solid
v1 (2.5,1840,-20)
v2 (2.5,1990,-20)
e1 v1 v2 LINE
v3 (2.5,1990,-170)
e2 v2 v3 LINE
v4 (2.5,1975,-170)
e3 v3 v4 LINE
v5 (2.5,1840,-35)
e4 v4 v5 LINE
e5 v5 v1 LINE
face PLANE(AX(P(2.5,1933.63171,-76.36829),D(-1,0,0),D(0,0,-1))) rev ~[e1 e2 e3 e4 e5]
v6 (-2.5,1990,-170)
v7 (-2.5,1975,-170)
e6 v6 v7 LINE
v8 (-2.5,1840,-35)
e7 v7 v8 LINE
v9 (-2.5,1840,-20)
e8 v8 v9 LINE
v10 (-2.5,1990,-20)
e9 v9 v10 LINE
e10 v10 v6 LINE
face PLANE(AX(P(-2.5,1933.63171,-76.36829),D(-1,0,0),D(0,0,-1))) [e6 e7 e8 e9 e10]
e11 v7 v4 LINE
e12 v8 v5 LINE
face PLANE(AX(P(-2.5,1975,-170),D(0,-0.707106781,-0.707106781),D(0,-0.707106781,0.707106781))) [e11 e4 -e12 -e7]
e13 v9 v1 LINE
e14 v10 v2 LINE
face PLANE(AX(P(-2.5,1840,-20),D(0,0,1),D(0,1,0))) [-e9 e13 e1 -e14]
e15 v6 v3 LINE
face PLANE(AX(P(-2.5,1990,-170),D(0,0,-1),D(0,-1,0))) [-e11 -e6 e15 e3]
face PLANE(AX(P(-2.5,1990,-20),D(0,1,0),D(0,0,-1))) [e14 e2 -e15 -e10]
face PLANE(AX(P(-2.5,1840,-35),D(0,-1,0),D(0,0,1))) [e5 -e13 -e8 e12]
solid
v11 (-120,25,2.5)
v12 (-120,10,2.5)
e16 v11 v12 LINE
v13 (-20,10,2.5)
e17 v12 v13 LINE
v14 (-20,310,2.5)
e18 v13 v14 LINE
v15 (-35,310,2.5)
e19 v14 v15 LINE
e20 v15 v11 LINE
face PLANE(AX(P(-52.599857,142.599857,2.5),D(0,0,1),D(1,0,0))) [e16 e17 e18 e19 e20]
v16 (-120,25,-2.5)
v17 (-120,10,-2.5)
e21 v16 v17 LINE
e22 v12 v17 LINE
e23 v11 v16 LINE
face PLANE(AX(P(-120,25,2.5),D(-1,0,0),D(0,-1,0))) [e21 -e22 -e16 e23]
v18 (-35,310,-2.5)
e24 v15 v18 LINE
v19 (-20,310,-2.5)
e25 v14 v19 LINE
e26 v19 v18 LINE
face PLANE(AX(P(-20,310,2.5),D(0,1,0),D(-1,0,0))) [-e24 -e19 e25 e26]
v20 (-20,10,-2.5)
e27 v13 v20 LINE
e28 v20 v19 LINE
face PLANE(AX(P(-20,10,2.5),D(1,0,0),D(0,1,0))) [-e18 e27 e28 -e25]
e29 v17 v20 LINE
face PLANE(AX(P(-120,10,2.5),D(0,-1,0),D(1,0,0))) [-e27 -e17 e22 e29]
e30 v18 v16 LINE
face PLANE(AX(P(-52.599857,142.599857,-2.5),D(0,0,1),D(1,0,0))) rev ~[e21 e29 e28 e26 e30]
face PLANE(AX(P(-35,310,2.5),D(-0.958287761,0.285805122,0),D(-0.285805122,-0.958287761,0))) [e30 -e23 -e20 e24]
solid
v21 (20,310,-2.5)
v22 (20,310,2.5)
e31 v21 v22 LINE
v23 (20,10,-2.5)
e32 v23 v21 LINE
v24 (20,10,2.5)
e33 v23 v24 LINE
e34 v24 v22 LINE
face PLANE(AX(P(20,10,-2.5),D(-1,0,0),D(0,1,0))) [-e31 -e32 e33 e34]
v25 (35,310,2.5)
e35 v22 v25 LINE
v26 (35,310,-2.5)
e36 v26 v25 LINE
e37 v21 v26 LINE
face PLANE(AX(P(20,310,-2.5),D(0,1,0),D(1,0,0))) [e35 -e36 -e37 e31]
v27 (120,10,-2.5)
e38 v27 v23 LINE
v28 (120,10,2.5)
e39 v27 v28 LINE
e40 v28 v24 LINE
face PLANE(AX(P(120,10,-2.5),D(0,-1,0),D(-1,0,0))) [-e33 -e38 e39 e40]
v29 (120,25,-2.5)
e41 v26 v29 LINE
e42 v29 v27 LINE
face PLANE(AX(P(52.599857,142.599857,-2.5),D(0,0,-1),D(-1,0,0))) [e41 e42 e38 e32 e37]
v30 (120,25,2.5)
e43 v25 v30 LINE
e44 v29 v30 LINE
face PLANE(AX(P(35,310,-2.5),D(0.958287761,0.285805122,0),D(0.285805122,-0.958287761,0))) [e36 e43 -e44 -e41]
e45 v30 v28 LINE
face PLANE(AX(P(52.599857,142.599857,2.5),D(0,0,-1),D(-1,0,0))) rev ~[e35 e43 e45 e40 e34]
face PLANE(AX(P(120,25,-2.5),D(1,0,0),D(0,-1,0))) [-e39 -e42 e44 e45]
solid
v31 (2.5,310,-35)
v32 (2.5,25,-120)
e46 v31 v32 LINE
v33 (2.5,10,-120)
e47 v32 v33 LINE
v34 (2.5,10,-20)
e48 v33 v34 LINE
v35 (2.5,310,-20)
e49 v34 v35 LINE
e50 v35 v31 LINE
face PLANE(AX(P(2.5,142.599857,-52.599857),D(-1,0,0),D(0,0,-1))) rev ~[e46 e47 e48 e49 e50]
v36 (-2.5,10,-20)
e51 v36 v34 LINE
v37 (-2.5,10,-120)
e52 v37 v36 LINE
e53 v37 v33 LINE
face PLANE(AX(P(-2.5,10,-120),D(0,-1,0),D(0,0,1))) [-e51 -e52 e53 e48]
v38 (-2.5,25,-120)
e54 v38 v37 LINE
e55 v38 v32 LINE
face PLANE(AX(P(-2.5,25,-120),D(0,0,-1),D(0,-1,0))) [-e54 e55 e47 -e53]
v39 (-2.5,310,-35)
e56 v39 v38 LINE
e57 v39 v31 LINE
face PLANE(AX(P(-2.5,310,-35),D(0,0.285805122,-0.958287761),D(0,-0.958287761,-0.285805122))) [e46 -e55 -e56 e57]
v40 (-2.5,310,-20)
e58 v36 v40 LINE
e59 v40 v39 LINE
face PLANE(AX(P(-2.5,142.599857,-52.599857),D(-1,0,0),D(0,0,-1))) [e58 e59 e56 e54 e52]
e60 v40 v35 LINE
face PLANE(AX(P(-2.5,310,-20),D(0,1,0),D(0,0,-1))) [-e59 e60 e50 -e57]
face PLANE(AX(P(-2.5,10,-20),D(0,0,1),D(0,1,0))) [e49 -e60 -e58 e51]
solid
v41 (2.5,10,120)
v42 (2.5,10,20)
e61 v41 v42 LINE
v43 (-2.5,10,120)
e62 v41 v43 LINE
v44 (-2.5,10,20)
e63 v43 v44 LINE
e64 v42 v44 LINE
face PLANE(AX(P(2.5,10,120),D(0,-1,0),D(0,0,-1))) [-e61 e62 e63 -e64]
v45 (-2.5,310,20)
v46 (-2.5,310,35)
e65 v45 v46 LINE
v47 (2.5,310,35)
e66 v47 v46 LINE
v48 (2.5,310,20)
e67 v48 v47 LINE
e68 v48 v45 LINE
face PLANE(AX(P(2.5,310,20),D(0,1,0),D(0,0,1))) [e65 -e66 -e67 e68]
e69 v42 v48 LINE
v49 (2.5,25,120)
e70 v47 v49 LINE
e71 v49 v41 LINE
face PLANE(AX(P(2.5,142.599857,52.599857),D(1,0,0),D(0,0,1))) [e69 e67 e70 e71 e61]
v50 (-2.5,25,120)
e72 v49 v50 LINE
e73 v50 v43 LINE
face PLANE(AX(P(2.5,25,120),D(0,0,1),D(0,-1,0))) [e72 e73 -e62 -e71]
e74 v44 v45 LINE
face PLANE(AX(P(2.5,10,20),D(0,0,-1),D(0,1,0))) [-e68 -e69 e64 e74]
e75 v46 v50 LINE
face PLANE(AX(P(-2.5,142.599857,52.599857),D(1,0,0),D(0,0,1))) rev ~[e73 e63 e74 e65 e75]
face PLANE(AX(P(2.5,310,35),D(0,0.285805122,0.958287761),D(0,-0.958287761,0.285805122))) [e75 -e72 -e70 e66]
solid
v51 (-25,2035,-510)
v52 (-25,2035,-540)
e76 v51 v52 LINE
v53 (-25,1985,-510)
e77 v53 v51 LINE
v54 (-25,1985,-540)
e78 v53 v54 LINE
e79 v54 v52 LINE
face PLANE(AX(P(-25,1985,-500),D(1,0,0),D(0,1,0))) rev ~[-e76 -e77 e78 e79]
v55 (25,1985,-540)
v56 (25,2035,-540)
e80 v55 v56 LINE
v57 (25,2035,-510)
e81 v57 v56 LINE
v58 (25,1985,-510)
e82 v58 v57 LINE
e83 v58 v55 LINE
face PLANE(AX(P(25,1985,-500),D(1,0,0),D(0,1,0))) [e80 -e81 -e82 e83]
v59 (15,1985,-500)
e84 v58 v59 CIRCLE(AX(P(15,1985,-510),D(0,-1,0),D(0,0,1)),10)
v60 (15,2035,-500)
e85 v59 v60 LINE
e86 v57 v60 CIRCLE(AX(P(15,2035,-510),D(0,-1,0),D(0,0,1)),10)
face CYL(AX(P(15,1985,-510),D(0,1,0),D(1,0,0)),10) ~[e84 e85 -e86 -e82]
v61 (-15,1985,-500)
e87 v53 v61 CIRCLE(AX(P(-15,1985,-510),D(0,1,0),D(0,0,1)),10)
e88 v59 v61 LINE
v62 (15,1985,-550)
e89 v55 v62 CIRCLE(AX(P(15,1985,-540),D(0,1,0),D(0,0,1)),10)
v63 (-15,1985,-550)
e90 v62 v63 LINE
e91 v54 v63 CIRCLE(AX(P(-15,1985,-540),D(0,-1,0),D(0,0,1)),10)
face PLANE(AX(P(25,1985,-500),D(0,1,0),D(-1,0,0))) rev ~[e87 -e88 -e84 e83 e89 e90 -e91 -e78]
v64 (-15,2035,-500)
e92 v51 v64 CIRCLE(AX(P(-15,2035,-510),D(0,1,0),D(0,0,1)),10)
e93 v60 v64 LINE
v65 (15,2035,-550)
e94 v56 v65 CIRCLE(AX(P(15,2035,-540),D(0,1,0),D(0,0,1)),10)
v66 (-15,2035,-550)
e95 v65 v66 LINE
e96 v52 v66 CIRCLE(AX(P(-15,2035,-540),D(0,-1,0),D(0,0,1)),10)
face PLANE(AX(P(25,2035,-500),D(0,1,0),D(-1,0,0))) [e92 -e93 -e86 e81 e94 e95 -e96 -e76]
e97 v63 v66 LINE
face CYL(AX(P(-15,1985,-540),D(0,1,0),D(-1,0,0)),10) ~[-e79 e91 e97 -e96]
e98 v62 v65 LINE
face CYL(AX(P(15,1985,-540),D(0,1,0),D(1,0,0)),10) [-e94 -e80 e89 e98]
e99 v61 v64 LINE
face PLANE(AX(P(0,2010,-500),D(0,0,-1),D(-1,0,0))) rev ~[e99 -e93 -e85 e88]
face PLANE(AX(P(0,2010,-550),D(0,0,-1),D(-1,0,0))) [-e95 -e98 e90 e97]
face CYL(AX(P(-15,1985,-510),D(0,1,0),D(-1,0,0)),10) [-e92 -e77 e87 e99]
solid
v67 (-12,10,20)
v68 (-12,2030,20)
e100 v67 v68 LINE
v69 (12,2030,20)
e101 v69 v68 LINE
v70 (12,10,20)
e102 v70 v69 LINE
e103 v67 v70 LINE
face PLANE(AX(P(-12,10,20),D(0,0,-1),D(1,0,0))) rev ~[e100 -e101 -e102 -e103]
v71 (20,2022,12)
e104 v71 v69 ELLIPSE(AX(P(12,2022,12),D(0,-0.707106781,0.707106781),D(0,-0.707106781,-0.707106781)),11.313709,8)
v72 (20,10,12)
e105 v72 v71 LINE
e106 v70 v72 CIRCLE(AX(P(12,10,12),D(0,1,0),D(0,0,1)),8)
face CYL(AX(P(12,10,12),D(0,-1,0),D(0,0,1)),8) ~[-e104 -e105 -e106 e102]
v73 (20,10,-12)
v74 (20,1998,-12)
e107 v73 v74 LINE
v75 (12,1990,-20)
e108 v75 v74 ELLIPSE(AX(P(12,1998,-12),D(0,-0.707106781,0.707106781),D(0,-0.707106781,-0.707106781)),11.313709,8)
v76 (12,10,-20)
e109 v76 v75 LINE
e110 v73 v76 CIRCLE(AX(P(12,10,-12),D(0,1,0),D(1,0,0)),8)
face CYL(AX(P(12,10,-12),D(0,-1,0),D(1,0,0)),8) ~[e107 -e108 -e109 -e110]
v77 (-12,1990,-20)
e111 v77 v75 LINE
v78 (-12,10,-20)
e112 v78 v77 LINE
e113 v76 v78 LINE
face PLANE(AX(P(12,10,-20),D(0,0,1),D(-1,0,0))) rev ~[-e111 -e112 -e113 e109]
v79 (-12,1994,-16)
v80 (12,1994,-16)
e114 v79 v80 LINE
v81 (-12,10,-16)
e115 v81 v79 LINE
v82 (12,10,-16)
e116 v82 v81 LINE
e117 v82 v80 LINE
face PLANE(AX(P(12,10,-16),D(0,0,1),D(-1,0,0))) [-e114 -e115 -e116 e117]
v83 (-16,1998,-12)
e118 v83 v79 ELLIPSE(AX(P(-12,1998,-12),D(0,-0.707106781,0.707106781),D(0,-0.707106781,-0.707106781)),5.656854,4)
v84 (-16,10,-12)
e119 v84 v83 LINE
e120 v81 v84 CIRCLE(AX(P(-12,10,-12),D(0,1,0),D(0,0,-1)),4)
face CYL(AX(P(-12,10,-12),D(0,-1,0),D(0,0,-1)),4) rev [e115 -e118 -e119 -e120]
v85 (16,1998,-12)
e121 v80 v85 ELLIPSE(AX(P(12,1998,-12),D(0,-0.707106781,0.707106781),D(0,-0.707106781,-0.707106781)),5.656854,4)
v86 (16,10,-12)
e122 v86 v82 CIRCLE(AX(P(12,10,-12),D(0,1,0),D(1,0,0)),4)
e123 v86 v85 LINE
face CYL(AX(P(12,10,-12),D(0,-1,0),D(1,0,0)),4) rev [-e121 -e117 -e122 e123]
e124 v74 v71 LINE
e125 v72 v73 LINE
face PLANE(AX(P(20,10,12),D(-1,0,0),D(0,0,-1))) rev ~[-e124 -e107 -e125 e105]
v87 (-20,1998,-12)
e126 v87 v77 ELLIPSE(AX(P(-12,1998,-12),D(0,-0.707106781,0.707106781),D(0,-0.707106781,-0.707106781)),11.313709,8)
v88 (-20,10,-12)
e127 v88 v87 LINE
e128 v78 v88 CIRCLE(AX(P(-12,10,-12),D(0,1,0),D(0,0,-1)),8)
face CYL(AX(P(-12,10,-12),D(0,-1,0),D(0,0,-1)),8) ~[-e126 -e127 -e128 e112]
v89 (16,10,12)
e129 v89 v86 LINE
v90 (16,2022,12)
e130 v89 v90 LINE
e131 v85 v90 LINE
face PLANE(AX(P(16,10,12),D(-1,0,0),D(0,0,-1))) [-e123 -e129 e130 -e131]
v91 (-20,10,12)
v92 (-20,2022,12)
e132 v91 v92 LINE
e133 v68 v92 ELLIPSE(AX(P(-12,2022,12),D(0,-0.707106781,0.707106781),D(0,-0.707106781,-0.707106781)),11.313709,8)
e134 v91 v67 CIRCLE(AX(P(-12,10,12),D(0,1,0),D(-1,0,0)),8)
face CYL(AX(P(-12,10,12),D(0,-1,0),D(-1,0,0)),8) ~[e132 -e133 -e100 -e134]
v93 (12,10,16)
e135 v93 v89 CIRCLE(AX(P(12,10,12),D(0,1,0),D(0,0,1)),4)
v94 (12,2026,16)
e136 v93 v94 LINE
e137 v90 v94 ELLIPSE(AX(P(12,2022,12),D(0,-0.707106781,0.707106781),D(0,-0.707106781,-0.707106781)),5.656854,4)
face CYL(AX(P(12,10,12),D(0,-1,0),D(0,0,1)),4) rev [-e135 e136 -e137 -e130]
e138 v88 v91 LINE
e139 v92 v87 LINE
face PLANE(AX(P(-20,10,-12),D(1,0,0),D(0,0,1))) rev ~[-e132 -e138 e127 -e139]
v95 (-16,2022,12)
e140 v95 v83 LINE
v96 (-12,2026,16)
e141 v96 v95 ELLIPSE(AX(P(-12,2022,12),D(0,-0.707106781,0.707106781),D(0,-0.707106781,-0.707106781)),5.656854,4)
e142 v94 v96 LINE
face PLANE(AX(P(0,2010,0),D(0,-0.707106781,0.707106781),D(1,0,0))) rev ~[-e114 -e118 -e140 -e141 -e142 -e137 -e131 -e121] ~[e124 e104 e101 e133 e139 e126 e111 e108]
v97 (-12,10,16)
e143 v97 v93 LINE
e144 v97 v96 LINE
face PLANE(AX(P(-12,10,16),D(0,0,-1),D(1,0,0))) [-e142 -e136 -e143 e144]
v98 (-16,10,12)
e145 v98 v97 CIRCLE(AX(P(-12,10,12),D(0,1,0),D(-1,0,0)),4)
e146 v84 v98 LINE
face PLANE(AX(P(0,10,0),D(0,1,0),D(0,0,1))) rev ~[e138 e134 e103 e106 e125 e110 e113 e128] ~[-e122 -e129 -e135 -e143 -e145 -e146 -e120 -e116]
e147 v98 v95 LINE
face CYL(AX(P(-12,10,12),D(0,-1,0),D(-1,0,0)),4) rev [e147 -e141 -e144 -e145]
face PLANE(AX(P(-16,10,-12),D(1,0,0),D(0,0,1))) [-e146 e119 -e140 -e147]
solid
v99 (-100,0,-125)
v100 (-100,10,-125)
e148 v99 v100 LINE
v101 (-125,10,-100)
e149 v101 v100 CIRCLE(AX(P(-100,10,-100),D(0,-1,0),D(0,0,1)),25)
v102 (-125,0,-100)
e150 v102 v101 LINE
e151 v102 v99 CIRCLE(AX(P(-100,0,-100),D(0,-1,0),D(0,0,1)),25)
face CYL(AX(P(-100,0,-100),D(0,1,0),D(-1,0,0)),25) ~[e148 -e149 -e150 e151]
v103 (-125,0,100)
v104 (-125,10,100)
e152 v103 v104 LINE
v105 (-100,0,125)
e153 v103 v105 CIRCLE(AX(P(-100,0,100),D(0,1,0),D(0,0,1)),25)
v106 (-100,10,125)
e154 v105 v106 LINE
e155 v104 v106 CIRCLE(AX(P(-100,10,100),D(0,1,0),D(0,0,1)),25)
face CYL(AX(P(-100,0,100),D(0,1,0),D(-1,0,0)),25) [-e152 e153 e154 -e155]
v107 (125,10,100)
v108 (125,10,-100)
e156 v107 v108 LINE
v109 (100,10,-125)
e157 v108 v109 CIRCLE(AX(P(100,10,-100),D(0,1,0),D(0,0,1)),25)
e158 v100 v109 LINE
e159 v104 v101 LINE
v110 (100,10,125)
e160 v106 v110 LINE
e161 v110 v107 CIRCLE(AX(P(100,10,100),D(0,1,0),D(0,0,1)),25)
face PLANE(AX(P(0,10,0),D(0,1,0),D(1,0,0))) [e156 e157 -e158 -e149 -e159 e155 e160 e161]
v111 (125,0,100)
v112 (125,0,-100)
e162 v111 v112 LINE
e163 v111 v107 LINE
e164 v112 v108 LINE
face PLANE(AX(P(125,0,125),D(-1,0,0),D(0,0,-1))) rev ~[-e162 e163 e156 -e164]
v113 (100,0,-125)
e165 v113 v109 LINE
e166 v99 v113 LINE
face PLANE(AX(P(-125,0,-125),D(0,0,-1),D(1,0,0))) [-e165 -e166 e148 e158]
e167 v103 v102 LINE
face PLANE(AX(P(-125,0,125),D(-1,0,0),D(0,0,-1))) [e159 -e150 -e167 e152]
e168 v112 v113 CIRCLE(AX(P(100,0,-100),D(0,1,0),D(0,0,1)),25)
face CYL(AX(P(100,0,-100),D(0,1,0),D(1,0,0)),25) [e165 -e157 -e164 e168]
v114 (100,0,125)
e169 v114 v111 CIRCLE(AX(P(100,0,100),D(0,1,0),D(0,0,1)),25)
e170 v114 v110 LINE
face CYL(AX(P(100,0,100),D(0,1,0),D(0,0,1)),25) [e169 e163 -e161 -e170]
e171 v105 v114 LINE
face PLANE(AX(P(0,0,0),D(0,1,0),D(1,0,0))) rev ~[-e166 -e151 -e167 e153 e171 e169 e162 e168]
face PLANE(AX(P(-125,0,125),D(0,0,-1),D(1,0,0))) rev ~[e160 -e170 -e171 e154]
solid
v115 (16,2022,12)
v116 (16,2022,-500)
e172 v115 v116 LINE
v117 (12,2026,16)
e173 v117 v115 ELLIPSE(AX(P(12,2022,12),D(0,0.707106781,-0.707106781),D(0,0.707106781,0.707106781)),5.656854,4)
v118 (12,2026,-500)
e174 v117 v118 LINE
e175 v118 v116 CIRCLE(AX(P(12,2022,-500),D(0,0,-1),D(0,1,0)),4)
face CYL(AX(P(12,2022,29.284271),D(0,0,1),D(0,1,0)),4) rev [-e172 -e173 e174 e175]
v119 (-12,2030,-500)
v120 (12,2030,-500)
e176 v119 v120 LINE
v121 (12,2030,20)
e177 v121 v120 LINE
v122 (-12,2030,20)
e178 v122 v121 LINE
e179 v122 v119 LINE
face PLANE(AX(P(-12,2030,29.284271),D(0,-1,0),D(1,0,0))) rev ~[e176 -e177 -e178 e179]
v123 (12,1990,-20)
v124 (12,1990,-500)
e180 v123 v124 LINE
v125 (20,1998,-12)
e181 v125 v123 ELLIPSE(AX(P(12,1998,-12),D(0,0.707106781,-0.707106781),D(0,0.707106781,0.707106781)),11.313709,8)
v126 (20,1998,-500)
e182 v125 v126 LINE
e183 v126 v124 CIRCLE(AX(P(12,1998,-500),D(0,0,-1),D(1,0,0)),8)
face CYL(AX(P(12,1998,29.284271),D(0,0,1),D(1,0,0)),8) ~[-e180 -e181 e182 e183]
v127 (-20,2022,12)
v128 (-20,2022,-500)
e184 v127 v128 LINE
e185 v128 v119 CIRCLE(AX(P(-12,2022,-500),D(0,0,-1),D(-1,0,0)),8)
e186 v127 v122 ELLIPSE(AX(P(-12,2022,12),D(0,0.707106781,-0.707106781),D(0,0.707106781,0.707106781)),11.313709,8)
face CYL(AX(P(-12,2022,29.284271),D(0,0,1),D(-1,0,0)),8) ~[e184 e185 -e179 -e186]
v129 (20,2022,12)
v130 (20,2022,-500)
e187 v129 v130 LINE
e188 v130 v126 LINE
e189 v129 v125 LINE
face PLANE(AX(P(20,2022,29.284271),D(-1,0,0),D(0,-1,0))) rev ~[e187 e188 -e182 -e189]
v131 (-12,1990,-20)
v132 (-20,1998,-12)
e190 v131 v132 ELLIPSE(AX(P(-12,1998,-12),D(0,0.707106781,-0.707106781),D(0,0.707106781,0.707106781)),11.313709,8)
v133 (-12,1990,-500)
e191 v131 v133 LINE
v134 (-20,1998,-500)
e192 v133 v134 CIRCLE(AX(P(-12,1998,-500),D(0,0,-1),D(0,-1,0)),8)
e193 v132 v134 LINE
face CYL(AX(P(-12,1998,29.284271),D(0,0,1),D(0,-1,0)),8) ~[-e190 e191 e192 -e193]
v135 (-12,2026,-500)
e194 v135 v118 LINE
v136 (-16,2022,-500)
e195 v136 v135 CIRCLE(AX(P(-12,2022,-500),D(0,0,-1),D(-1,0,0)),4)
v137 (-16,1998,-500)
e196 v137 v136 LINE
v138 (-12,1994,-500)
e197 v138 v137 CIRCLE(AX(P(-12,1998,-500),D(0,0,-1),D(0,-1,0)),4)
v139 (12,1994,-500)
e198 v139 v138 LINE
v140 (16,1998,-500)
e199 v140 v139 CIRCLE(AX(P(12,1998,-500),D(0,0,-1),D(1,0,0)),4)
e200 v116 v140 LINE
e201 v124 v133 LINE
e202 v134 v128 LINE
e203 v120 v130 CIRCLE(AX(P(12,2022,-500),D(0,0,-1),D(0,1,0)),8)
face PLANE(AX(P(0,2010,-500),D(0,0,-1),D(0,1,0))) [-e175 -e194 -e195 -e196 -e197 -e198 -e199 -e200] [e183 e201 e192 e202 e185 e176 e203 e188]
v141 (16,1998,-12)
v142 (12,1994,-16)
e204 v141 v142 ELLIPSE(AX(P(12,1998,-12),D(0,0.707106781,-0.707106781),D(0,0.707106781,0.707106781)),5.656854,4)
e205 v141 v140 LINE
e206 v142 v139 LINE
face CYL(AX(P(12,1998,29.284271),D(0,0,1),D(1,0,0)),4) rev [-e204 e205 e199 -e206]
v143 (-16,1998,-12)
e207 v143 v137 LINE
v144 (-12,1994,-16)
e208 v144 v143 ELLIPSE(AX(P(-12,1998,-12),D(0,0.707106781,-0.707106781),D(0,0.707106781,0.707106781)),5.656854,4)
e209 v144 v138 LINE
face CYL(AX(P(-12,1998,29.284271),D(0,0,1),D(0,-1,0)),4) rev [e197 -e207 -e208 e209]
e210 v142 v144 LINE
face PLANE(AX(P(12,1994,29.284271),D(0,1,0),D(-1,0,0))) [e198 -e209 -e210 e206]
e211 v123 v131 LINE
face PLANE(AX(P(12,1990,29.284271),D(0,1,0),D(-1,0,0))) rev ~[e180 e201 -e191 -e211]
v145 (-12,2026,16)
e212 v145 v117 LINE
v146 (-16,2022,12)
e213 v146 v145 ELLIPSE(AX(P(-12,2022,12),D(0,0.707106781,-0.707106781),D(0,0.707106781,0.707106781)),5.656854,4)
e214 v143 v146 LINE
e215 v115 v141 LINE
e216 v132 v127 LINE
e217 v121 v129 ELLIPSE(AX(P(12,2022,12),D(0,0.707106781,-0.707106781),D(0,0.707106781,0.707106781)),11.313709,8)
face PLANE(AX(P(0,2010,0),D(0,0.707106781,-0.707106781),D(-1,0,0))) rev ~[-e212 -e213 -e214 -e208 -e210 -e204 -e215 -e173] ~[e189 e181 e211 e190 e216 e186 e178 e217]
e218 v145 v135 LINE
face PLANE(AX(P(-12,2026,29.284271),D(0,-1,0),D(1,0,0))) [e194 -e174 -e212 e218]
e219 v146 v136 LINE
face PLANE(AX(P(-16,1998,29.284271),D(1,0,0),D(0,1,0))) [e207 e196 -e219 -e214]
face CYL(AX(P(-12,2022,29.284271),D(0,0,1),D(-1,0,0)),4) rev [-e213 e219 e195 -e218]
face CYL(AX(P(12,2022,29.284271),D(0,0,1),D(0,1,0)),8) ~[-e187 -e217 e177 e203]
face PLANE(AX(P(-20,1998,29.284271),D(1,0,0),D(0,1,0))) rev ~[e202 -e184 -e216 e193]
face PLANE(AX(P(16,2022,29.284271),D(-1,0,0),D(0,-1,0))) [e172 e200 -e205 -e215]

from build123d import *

# Parameters (mm, degrees)
SKETCH1_W                         = 250
SKETCH1_H                         = 250
BOSS_EXTRUDE1_DEPTH               = 10
SQUARE_TUBE_40_X_40_X_4_1_DEPTH   = 2029.284271247
SQUARE_TUBE_40_X_40_X_4_1_2_DEPTH = 529.284271247
GUSSET1_THICKNESS                 = 5
GUSSET2_THICKNESS                 = 5
GUSSET3_THICKNESS                 = 5
GUSSET4_THICKNESS                 = 5
GUSSET5_THICKNESS                 = 5
SKETCH18_W                        = 50
SKETCH18_H                        = 50
BOSS_EXTRUDE2_DEPTH               = 50
FILLET1_R                         = 10
FILLET2_R                         = 25


with BuildPart() as part:
    # Sketch1 → Boss-Extrude1 (new body)
    with BuildSketch(Plane(origin=(0, 0, 0), x_dir=(1, 0, 0), z_dir=(0, 1, 0))):
        Rectangle(SKETCH1_W, SKETCH1_H)
    extrude(amount=BOSS_EXTRUDE1_DEPTH)

    # Fillet2
    fillet2_edges = [part.edges().sort_by_distance(p)[0] for p in [
        (-125, 5, -125),
        (125, 5, -125),
        (125, 5, 125),
        (-125, 5, 125),
    ]]
    fillet(fillet2_edges, radius=FILLET2_R)


with BuildPart() as body_2:
    # Sketch12 → Square tube 40 X 40 X 4(1) (new body)
    with BuildSketch(Plane.ZX.offset(10)):
        with BuildLine():
            Line((-12, -20), (12, -20))
            ThreePointArc((12, -20), (17.656854249, -17.656854249), (20, -12))
            Line((20, -12), (20, 12))
            ThreePointArc((20, 12), (17.656854249, 17.656854249), (12, 20))
            Line((12, 20), (-12, 20))
            ThreePointArc((-12, 20), (-17.656854249, 17.656854249), (-20, 12))
            Line((-20, 12), (-20, -12))
            ThreePointArc((-20, -12), (-17.656854249, -17.656854249), (-12, -20))
        make_face()
        with BuildLine():
            Line((-12, -16), (12, -16))
            ThreePointArc((12, -16), (14.828427125, -14.828427125), (16, -12))
            Line((16, -12), (16, 12))
            ThreePointArc((16, 12), (14.828427125, 14.828427125), (12, 16))
            Line((12, 16), (-12, 16))
            ThreePointArc((-12, 16), (-14.828427125, 14.828427125), (-16, 12))
            Line((-16, 12), (-16, -12))
            ThreePointArc((-16, -12), (-14.828427125, -14.828427125), (-12, -16))
        make_face(mode=Mode.SUBTRACT)
    extrude(amount=SQUARE_TUBE_40_X_40_X_4_1_DEPTH)

    # Square tube 40 X 40 X 4(1) mitre 1
    split(bisect_by=Plane(origin=(0, 2010, 0), x_dir=(1, 0, 0), z_dir=(0, -0.707106781, 0.707106781)), keep=Keep.TOP)


with BuildPart() as body_3:
    # Sketch12 on segment 2 (carried to segment 2) → Square tube 40 X 40 X 4_1 2 (new body)
    with BuildSketch(Plane(origin=(0, 2010, 29.284271247), x_dir=(0, 1, 0), z_dir=(0, 0, -1))):
        with BuildLine():
            Line((-12, -20), (12, -20))
            ThreePointArc((12, -20), (17.656854249, -17.656854249), (20, -12))
            Line((20, -12), (20, 12))
            ThreePointArc((20, 12), (17.656854249, 17.656854249), (12, 20))
            Line((12, 20), (-12, 20))
            ThreePointArc((-12, 20), (-17.656854249, 17.656854249), (-20, 12))
            Line((-20, 12), (-20, -12))
            ThreePointArc((-20, -12), (-17.656854249, -17.656854249), (-12, -20))
        make_face()
        with BuildLine():
            Line((-12, -16), (12, -16))
            ThreePointArc((12, -16), (14.828427125, -14.828427125), (16, -12))
            Line((16, -12), (16, 12))
            ThreePointArc((16, 12), (14.828427125, 14.828427125), (12, 16))
            Line((12, 16), (-12, 16))
            ThreePointArc((-12, 16), (-14.828427125, 14.828427125), (-16, 12))
            Line((-16, 12), (-16, -12))
            ThreePointArc((-16, -12), (-14.828427125, -14.828427125), (-12, -16))
        make_face(mode=Mode.SUBTRACT)
    extrude(amount=SQUARE_TUBE_40_X_40_X_4_1_2_DEPTH)

    # Square tube 40 X 40 X 4_1 2 mitre 1
    split(bisect_by=Plane(origin=(0, 2010, 0), x_dir=(-1, 0, 0), z_dir=(0, 0.707106781, -0.707106781)), keep=Keep.TOP)


with BuildPart() as body_4:
    # Gusset1: a gusset: a plate 5.0 thick in the corner of two members, its outline drawn in place
    gusset1_outline = Wire([Line((-20, 10, 2.5), (-20, 310, 2.5)), Line((-20, 310, 2.5), (-35, 310, 2.5)), Line((-35, 310, 2.5), (-120, 25, 2.5)), Line((-120, 25, 2.5), (-120, 10, 2.5)), Line((-120, 10, 2.5), (-20, 10, 2.5))])
    add(extrude(Face(gusset1_outline), amount=GUSSET1_THICKNESS, dir=(0, 0, -1)))


with BuildPart() as body_5:
    # Gusset2: a gusset: a plate 5.0 thick in the corner of two members, its outline drawn in place
    gusset2_outline = Wire([Line((-2.5, 10, -20), (-2.5, 310, -20)), Line((-2.5, 310, -20), (-2.5, 310, -35)), Line((-2.5, 310, -35), (-2.5, 25, -120)), Line((-2.5, 25, -120), (-2.5, 10, -120)), Line((-2.5, 10, -120), (-2.5, 10, -20))])
    add(extrude(Face(gusset2_outline), amount=GUSSET2_THICKNESS, dir=(1, 0, 0)))


with BuildPart() as body_6:
    # Gusset3: a gusset: a plate 5.0 thick in the corner of two members, its outline drawn in place
    gusset3_outline = Wire([Line((20, 10, -2.5), (20, 310, -2.5)), Line((20, 310, -2.5), (35, 310, -2.5)), Line((35, 310, -2.5), (120, 25, -2.5)), Line((120, 25, -2.5), (120, 10, -2.5)), Line((120, 10, -2.5), (20, 10, -2.5))])
    add(extrude(Face(gusset3_outline), amount=GUSSET3_THICKNESS, dir=(0, 0, 1)))


with BuildPart() as body_7:
    # Gusset4: a gusset: a plate 5.0 thick in the corner of two members, its outline drawn in place
    gusset4_outline = Wire([Line((2.5, 10, 20), (2.5, 310, 20)), Line((2.5, 310, 20), (2.5, 310, 35)), Line((2.5, 310, 35), (2.5, 25, 120)), Line((2.5, 25, 120), (2.5, 10, 120)), Line((2.5, 10, 120), (2.5, 10, 20))])
    add(extrude(Face(gusset4_outline), amount=GUSSET4_THICKNESS, dir=(-1, 0, 0)))


with BuildPart() as body_8:
    # Gusset5: a gusset: a plate 5.0 thick in the corner of two members, its outline drawn in place
    gusset5_outline = Wire([Line((-2.5, 1990, -20), (-2.5, 1990, -170)), Line((-2.5, 1990, -170), (-2.5, 1975, -170)), Line((-2.5, 1975, -170), (-2.5, 1840, -35)), Line((-2.5, 1840, -35), (-2.5, 1840, -20)), Line((-2.5, 1840, -20), (-2.5, 1990, -20))])
    add(extrude(Face(gusset5_outline), amount=GUSSET5_THICKNESS, dir=(1, 0, 0)))


with BuildPart() as body_9:
    # Sketch18 → Boss-Extrude2 (new body)
    with BuildSketch(Plane(origin=(0, 0, -500), x_dir=(-1, 0, 0), z_dir=(0, 0, -1))):
        with Locations((0, 2010)):
            Rectangle(SKETCH18_W, SKETCH18_H)
    extrude(amount=BOSS_EXTRUDE2_DEPTH)

    # Fillet1
    fillet1_edges = [body_9.edges().sort_by_distance(p)[0] for p in [
        (-25, 2010, -550),
        (25, 2010, -550),
        (-25, 2010, -500),
        (25, 2010, -500),
    ]]
    fillet(fillet1_edges, radius=FILLET1_R)


solid = Compound([part.part, body_2.part, body_3.part, body_4.part, body_5.part, body_6.part, body_7.part, body_8.part, body_9.part])
